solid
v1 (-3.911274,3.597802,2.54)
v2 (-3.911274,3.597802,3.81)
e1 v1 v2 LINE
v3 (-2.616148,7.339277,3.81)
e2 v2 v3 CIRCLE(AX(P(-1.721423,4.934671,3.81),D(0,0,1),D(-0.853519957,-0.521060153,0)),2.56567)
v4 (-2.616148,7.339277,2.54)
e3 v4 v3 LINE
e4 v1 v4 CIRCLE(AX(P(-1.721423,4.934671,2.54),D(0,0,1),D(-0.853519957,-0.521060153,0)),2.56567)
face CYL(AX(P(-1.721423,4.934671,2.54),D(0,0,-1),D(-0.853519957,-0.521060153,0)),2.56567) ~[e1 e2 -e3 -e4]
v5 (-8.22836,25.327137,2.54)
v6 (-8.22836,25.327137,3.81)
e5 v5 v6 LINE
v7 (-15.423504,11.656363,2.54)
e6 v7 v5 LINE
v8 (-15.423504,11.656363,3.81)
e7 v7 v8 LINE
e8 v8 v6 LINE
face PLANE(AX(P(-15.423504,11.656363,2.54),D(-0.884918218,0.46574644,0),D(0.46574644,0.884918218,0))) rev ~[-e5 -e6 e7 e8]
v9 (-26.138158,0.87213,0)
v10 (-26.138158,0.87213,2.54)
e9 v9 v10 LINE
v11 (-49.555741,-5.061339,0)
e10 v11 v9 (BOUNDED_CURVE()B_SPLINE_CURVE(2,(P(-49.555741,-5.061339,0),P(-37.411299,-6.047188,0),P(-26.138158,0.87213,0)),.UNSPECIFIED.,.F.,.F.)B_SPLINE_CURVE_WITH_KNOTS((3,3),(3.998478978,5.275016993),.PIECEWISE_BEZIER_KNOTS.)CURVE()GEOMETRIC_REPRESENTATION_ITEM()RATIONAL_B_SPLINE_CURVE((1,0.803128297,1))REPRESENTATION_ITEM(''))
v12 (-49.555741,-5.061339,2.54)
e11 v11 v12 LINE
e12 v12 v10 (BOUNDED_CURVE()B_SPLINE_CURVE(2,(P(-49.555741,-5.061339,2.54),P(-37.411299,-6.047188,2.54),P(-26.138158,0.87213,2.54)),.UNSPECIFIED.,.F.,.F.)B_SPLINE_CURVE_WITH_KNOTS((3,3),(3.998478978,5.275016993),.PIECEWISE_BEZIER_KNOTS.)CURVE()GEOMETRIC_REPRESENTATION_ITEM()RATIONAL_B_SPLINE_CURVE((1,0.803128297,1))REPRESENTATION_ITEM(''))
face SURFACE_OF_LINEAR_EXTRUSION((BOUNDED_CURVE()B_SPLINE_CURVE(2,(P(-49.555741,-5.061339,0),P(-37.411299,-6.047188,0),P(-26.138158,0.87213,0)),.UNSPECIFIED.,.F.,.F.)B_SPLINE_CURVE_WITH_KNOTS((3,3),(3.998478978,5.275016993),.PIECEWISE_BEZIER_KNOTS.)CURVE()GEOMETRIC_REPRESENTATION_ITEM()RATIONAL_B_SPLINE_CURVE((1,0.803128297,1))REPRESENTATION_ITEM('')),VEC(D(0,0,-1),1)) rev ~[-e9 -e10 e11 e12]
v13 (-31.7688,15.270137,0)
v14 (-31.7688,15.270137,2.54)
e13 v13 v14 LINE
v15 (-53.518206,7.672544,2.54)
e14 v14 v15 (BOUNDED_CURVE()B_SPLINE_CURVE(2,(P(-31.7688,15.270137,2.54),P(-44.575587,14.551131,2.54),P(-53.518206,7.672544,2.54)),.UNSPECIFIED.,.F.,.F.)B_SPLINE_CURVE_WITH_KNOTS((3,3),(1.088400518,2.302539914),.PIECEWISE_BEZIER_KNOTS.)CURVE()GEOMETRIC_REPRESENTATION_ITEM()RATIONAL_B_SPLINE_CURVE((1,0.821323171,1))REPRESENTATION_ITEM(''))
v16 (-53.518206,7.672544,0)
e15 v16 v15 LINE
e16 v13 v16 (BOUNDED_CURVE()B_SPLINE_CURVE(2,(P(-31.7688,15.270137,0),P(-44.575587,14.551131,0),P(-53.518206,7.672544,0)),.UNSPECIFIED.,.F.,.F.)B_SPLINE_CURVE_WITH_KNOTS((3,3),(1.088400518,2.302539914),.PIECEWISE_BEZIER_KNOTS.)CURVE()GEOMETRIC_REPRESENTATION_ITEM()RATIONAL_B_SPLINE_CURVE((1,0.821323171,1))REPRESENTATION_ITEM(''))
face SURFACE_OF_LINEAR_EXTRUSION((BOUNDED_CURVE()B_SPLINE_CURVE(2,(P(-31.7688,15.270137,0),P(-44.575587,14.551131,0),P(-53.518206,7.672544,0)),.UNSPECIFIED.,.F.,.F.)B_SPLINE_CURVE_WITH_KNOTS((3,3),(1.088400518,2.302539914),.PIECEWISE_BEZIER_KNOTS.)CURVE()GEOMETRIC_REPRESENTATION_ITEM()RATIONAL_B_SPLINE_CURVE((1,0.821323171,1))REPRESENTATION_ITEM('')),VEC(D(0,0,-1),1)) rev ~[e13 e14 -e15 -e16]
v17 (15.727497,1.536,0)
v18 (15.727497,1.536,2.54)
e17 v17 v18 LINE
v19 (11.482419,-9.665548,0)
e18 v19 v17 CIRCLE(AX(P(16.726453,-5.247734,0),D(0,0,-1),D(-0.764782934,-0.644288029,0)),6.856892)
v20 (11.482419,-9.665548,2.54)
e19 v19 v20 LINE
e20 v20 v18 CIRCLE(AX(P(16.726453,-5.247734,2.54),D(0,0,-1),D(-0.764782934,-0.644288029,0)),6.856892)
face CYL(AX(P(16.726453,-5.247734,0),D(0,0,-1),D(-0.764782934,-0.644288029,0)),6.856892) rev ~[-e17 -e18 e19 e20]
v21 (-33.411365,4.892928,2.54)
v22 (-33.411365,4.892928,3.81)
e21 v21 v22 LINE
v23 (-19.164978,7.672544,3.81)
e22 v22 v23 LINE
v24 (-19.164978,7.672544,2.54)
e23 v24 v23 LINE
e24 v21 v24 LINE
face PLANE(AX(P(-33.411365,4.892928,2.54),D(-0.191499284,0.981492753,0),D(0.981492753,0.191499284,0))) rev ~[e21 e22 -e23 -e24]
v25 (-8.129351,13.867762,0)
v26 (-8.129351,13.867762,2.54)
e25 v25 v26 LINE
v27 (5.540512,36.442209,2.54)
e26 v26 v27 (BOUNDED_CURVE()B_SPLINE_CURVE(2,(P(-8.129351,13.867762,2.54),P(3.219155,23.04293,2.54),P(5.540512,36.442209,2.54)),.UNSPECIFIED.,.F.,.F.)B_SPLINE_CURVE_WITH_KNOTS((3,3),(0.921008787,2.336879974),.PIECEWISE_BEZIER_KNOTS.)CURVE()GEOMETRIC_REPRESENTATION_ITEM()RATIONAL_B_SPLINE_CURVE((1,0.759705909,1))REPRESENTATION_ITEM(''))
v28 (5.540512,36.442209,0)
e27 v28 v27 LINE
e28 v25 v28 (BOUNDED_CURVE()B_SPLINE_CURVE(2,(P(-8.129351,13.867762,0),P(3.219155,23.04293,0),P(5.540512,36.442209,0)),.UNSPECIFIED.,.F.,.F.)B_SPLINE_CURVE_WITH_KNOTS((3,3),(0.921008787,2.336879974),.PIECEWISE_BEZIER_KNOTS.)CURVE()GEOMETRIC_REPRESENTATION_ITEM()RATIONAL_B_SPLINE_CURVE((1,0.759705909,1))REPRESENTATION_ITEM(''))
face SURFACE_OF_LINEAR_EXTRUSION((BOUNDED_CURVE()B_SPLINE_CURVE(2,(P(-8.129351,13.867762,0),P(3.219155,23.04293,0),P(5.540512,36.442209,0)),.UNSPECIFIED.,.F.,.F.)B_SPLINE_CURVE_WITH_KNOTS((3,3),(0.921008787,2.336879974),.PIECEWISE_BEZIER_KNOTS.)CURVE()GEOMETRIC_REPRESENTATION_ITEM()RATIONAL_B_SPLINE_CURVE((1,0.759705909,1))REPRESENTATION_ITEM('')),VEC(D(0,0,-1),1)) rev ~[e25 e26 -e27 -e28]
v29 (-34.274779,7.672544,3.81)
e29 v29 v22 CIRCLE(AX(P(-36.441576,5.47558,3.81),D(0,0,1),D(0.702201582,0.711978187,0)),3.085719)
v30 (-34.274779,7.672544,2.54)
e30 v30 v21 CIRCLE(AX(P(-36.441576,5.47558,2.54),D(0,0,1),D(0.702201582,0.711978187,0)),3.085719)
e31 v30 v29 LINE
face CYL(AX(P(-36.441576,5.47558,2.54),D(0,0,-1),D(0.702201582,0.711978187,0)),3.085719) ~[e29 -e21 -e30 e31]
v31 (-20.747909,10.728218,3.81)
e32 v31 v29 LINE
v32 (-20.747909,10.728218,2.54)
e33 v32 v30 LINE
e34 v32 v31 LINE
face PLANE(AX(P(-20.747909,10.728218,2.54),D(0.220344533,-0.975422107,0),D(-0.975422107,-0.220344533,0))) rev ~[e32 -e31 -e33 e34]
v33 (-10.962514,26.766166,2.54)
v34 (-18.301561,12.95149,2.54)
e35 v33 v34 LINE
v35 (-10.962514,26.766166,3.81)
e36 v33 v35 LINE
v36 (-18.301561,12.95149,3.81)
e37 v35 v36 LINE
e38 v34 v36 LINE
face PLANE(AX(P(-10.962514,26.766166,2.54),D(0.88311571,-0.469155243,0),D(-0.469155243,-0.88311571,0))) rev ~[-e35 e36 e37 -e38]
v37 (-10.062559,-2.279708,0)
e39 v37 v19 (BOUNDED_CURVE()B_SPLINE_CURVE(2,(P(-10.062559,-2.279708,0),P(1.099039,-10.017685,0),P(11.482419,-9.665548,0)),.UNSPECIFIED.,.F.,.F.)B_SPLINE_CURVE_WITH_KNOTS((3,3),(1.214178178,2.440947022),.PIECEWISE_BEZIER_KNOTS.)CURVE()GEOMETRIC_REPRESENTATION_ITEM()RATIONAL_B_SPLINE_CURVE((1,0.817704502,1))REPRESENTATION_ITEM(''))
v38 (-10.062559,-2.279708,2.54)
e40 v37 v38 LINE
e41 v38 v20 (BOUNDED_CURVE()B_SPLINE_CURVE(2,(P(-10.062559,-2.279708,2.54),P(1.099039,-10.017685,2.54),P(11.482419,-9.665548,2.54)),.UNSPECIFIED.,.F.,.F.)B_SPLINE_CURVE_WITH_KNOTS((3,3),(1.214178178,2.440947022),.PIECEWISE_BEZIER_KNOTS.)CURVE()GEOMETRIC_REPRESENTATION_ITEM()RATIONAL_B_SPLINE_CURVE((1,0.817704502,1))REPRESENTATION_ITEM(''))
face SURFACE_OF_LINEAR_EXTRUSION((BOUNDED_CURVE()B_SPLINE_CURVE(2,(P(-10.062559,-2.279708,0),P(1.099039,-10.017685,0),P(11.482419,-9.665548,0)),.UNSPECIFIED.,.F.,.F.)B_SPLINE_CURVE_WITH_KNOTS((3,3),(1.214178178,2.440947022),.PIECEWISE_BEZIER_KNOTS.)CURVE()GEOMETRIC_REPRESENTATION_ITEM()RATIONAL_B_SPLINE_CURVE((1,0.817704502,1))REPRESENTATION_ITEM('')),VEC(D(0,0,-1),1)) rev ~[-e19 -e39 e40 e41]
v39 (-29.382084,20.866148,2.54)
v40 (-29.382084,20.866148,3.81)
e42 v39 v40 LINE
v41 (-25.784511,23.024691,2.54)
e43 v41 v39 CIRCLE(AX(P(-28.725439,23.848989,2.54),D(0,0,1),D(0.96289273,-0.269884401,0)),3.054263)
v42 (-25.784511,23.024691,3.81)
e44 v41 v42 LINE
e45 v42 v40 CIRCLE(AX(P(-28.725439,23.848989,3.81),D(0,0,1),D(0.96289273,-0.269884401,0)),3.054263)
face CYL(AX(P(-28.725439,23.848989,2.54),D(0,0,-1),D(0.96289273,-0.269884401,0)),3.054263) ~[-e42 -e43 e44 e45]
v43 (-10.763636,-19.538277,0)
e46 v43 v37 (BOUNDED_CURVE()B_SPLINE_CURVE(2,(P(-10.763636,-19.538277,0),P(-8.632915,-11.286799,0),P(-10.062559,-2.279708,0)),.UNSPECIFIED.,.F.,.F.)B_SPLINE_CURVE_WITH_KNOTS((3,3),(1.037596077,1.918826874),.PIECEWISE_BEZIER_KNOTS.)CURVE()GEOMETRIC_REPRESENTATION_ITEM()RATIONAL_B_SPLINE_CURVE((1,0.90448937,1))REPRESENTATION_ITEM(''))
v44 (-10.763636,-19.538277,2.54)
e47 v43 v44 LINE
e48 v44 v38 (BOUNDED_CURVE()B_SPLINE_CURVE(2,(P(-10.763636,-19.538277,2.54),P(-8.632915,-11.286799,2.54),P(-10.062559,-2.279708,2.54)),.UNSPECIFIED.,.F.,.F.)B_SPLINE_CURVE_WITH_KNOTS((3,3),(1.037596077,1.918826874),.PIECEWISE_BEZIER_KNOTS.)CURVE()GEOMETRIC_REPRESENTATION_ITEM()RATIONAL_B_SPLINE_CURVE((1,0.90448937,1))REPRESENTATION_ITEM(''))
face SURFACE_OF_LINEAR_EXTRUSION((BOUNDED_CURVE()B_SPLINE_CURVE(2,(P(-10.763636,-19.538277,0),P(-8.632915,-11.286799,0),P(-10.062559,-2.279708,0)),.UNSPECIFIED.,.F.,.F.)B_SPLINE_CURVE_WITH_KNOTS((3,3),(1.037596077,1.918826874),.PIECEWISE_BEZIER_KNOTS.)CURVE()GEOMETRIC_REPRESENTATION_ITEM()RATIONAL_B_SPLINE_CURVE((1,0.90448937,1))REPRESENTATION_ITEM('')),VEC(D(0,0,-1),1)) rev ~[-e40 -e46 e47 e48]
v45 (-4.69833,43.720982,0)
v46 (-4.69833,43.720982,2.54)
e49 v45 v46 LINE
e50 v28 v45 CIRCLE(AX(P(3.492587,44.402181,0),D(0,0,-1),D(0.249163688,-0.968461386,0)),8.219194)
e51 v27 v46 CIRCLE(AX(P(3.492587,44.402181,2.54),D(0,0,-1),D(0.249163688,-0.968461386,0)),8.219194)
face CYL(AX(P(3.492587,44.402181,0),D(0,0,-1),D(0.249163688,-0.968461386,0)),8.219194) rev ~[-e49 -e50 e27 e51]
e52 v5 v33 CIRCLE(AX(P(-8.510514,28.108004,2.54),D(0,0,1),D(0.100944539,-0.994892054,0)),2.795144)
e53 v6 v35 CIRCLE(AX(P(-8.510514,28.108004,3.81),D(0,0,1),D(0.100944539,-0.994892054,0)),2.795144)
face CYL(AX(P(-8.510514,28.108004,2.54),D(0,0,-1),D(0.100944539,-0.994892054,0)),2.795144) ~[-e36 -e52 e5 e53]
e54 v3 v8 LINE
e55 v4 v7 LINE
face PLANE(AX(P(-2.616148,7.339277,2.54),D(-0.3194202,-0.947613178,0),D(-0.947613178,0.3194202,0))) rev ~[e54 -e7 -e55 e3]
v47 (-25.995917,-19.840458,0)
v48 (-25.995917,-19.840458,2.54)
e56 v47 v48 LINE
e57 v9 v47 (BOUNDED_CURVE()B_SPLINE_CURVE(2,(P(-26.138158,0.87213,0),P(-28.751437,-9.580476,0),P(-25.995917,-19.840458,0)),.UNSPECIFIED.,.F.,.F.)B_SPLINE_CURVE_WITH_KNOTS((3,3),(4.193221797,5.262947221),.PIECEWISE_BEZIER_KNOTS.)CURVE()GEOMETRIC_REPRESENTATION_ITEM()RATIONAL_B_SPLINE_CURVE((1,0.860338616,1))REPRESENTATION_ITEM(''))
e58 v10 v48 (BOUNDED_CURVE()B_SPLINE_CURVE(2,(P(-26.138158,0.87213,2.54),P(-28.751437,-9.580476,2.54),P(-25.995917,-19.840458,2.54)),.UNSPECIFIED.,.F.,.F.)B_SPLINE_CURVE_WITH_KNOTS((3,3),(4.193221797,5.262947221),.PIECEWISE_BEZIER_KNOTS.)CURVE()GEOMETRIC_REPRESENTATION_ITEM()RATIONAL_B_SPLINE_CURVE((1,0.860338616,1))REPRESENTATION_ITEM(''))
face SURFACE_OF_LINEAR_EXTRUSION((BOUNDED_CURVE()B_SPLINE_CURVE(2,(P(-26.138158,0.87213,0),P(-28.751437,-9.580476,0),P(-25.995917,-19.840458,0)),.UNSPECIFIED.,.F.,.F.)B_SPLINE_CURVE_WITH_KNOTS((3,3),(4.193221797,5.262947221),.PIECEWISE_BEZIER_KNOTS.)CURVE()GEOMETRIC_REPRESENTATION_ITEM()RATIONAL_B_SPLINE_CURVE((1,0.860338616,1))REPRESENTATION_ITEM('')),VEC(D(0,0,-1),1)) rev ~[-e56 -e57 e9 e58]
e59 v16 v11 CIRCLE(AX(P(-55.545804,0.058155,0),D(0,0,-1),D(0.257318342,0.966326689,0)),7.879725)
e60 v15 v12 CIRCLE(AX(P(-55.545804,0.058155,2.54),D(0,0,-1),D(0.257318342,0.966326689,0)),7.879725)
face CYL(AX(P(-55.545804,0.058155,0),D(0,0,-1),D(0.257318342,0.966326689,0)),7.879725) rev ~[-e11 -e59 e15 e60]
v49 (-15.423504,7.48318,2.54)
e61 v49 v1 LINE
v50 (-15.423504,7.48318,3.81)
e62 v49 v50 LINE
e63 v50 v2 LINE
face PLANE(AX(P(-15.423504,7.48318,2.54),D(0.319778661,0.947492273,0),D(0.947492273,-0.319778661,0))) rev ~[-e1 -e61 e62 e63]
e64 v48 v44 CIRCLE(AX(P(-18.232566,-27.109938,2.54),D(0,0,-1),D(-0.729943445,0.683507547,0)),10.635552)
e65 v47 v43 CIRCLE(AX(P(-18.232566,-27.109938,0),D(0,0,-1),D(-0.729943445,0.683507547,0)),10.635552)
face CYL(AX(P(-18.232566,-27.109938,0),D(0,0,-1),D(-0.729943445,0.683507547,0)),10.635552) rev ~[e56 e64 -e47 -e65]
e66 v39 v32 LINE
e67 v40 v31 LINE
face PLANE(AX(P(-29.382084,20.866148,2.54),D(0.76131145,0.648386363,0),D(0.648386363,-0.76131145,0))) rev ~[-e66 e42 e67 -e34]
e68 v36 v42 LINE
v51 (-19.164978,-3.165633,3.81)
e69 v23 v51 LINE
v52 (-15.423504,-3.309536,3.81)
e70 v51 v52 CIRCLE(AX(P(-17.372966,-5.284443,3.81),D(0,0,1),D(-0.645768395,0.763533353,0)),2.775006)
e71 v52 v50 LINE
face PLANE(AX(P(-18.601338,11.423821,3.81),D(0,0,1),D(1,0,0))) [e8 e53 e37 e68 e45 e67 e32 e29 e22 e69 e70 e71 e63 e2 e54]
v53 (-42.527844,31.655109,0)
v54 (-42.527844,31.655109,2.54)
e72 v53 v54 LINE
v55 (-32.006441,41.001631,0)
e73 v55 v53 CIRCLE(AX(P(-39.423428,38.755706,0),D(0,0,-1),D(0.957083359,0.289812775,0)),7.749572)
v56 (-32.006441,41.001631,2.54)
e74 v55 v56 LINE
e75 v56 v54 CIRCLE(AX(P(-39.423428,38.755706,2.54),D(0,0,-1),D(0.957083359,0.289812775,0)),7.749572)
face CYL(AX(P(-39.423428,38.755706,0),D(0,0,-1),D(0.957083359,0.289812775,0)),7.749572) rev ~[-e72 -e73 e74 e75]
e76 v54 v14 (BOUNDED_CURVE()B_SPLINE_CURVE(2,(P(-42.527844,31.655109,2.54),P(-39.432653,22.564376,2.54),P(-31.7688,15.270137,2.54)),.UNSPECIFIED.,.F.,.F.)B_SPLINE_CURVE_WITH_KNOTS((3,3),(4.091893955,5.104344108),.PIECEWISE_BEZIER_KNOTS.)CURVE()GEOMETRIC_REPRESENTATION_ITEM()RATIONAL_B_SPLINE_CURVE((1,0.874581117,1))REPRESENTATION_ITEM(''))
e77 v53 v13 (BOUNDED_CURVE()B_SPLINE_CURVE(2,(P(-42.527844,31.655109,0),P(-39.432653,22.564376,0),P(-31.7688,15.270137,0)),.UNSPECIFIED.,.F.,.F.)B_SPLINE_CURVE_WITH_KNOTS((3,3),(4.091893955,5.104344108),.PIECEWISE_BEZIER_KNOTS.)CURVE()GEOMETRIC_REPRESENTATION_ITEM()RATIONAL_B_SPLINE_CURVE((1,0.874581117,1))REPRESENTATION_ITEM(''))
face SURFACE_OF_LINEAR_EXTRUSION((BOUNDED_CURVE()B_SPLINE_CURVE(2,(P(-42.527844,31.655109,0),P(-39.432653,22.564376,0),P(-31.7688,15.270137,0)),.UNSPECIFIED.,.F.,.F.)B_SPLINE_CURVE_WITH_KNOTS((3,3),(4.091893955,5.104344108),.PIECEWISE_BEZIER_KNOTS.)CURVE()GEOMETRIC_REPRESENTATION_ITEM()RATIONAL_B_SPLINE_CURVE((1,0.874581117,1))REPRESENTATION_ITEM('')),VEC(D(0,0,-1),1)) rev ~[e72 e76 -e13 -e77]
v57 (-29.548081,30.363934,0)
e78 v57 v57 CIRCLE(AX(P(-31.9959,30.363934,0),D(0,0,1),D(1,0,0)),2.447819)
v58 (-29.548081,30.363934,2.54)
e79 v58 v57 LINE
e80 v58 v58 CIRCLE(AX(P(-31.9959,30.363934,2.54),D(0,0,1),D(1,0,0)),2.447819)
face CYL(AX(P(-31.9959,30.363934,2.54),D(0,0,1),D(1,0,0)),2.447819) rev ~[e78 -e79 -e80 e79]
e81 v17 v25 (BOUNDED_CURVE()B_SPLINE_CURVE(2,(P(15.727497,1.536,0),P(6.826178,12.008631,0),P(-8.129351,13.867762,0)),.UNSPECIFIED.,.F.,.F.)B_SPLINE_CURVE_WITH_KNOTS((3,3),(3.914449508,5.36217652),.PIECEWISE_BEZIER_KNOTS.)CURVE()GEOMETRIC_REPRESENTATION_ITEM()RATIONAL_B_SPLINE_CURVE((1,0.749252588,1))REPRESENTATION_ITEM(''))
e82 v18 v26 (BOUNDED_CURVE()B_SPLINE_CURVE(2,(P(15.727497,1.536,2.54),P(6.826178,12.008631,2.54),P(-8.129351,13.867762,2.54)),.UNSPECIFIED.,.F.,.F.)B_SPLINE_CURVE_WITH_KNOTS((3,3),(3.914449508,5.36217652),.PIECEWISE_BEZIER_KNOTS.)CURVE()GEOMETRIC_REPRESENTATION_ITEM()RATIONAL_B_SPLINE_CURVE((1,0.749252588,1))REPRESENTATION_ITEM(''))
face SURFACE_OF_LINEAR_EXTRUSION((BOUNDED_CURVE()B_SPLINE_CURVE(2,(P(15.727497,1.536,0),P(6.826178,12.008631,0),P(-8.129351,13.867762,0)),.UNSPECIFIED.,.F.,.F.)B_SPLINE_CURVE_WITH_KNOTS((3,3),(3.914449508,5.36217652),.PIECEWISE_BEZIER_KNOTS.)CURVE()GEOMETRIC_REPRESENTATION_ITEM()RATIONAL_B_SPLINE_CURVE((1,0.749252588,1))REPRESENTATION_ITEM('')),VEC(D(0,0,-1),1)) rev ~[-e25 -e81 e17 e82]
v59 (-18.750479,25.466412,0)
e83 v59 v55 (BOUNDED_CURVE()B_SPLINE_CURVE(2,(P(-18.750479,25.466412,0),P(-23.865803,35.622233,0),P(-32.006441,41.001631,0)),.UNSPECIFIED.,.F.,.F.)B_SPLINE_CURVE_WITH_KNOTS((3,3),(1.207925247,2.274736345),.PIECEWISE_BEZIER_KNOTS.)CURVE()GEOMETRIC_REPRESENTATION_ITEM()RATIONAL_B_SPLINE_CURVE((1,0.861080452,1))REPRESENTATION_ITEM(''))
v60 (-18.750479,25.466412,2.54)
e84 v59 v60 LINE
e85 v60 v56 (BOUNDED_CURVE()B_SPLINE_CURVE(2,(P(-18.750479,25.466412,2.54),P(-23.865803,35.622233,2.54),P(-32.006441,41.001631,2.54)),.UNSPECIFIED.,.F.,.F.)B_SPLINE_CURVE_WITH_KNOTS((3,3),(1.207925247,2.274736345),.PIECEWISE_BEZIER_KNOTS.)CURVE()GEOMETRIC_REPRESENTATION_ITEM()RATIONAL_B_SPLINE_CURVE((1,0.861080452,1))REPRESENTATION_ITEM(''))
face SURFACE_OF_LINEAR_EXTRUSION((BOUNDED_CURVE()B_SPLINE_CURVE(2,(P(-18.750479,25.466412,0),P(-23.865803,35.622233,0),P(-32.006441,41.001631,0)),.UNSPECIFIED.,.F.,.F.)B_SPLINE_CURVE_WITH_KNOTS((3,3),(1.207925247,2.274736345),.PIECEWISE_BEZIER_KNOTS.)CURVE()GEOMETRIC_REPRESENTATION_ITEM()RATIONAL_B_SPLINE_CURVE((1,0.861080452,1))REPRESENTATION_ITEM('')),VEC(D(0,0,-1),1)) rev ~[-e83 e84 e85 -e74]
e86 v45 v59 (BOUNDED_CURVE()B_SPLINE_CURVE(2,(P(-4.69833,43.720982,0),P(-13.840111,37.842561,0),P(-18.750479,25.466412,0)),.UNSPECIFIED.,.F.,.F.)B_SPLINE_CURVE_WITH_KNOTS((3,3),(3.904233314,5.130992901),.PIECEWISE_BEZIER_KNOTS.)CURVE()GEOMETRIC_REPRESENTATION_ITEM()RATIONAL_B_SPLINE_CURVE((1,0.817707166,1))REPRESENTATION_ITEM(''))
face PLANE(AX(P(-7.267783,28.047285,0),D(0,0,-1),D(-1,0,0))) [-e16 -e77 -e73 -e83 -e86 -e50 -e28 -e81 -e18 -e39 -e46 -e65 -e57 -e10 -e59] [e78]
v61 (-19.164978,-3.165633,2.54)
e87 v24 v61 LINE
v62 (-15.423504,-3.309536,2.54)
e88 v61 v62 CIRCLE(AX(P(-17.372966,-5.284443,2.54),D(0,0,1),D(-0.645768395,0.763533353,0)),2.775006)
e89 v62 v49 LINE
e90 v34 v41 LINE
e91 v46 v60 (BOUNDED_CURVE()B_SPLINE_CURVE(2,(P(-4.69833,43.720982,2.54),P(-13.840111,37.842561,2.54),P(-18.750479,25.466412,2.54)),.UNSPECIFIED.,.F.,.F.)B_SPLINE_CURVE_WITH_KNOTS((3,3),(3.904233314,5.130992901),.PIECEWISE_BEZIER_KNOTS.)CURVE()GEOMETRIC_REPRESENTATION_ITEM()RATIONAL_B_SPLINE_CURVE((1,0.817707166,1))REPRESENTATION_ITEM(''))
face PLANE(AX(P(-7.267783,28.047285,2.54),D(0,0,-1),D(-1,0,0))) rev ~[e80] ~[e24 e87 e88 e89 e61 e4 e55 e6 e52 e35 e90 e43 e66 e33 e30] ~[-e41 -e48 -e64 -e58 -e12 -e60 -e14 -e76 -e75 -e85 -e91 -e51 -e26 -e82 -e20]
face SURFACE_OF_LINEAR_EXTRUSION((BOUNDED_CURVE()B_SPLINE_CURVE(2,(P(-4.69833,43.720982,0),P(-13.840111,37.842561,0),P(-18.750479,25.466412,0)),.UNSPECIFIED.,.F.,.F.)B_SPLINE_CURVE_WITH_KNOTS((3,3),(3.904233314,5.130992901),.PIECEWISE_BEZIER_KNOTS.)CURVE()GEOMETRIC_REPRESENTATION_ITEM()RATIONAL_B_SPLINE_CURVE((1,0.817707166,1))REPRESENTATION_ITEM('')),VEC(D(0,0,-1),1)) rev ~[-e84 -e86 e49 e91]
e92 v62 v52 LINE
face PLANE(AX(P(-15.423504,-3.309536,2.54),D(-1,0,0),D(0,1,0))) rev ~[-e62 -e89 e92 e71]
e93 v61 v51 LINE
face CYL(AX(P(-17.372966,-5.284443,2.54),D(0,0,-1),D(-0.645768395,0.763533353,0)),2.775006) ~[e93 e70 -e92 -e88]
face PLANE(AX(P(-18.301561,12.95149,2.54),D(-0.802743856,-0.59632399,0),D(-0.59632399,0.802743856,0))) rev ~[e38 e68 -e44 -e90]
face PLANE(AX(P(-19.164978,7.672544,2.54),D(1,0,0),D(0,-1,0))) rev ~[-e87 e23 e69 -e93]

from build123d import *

# Parameters (mm, degrees)
F1_DEPTH = 2.54
F2_R     = 2.4478188867
F3_DEPTH = 25.4
F5_DEPTH = 1.27


with BuildPart() as f1:
    # F0 (on Top) → F1 (new body)
    with BuildSketch(Plane.XY):
        with BuildLine():
            add(Edge.make_bspline(
                [(-8.1293506725, 13.8677618036), (-13.0062829494, 14.4740161408), (-15.8992987585, 13.1955885586)],
                knots=[5.3621765201, 5.3621765201, 5.3621765201, 5.923451431, 5.923451431, 5.923451431], degree=2, weights=[1, 0.9608790786, 1]))
            add(Edge.make_bspline(
                [(-8.1293506725, 13.8677618036), (3.2191549473, 23.0429297149), (5.5405121801, 36.4422092533)],
                knots=[0.9210087871, 0.9210087871, 0.9210087871, 2.3368799745, 2.3368799745, 2.3368799745], degree=2, weights=[1, 0.7597059088, 1]))
            ThreePointArc((5.5405121801, 36.4422092533), (-1.2696831758, 37.7032314), (-4.698329526, 43.7209819636))
            add(Edge.make_bspline(
                [(-4.698329526, 43.7209819636), (-13.840110732, 37.842561491), (-18.7504788391, 25.4664124261)],
                knots=[3.9042333143, 3.9042333143, 3.9042333143, 5.1309929011, 5.1309929011, 5.1309929011], degree=2, weights=[1, 0.8177071664, 1]))
            add(Edge.make_bspline(
                [(-15.8992987585, 13.1955885586), (-14.9909904148, 18.0024303196), (-18.7504788391, 25.4664124261)],
                knots=[0.3890102653, 0.3890102653, 0.3890102653, 1.2079252474, 1.2079252474, 1.2079252474], degree=2, weights=[1, 0.917336937, 1]))
        make_face()
        with BuildLine():
            add(Edge.make_bspline(
                [(-18.3283618618, 11.1091458655), (-18.4977635058, 11.1131186151), (-18.6671083791, 11.1023364909)],
                knots=[3.1313329127, 3.1313329127, 3.1313329127, 3.1694409122, 3.1694409122, 3.1694409122], degree=2, weights=[1, 0.999818478, 1]))
            add(Edge.make_bspline(
                [(-15.8992987585, 13.1955885586), (-17.6072200733, 12.4408558295), (-18.3283618618, 11.1091458655)],
                knots=[5.923451431, 5.923451431, 5.923451431, 6.2605585753, 6.2605585753, 6.2605585753], degree=2, weights=[1, 0.9858284459, 1]))
            add(Edge.make_bspline(
                [(-15.8992987585, 13.1955885586), (-14.9909904148, 18.0024303196), (-18.7504788391, 25.4664124261)],
                knots=[0.3890102653, 0.3890102653, 0.3890102653, 1.2079252474, 1.2079252474, 1.2079252474], degree=2, weights=[1, 0.917336937, 1]))
            add(Edge.make_bspline(
                [(-18.7504788391, 25.4664124261), (-23.1152645716, 14.4653555432), (-18.6671083791, 11.1023364909)],
                knots=[5.1309929011, 5.1309929011, 5.1309929011, 6.2492635537, 6.2492635537, 6.2492635537], degree=2, weights=[1, 0.847714097, 1]))
        make_face()
        with BuildLine():
            add(Edge.make_bspline(
                [(-18.6671083791, 11.1023364909), (-18.9426872846, 11.084790486), (-19.217261025, 11.0282486857)],
                knots=[3.1694409122, 3.1694409122, 3.1694409122, 3.2314425944, 3.2314425944, 3.2314425944], degree=2, weights=[1, 0.9995195124, 1]))
            add(Edge.make_bspline(
                [(-18.7504788391, 25.4664124261), (-23.1152645716, 14.4653555432), (-18.6671083791, 11.1023364909)],
                knots=[5.1309929011, 5.1309929011, 5.1309929011, 6.2492635537, 6.2492635537, 6.2492635537], degree=2, weights=[1, 0.847714097, 1]))
            add(Edge.make_bspline(
                [(-18.7504788391, 25.4664124261), (-23.8658033607, 35.622233216), (-32.0064408454, 41.0016310267)],
                knots=[1.2079252474, 1.2079252474, 1.2079252474, 2.2747363454, 2.2747363454, 2.2747363454], degree=2, weights=[1, 0.861080452, 1]))
            ThreePointArc((-32.0064408454, 41.0016310267), (-34.2766878119, 32.9620074398), (-42.5278444814, 31.6551094622))
            add(Edge.make_bspline(
                [(-42.5278444814, 31.6551094622), (-39.4326529231, 22.5643761786), (-31.7688000788, 15.2701366935)],
                knots=[4.0918939552, 4.0918939552, 4.0918939552, 5.1043441076, 5.1043441076, 5.1043441076], degree=2, weights=[1, 0.8745811169, 1]))
            add(Edge.make_bspline(
                [(-19.217261025, 11.0282486857), (-21.0537599835, 15.8717065704), (-31.7688000788, 15.2701366935)],
                knots=[0.0355549151, 0.0355549151, 0.0355549151, 1.0884005179, 1.0884005179, 1.0884005179], degree=2, weights=[1, 0.8646099394, 1]))
        make_face()
        with BuildLine():
            add(Edge.make_bspline(
                [(-49.5557408605, -5.0613393168), (-37.4112986885, -6.0471883825), (-26.1381579613, 0.8721302608)],
                knots=[3.9984789777, 3.9984789777, 3.9984789777, 5.2750169926, 5.2750169926, 5.2750169926], degree=2, weights=[1, 0.8031282966, 1]))
            add(Edge.make_bspline(
                [(-22.0543003481, 9.3342240027), (-24.6998426208, 6.6251102399), (-26.1381579613, 0.8721302608)],
                knots=[3.5627929422, 3.5627929422, 3.5627929422, 4.1932217971, 4.1932217971, 4.1932217971], degree=2, weights=[1, 0.9507299239, 1]))
            add(Edge.make_bspline(
                [(-31.7688000788, 15.2701366935), (-26.5047883189, 10.2599984236), (-22.0543003481, 9.3342240027)],
                knots=[5.1043441076, 5.1043441076, 5.1043441076, 5.8320454274, 5.8320454274, 5.8320454274], degree=2, weights=[1, 0.9345334002, 1]))
            add(Edge.make_bspline(
                [(-31.7688000788, 15.2701366935), (-44.5755870345, 14.5511307743), (-53.518205674, 7.6725440865)],
                knots=[1.0884005179, 1.0884005179, 1.0884005179, 2.3025399143, 2.3025399143, 2.3025399143], degree=2, weights=[1, 0.821323171, 1]))
            ThreePointArc((-53.518205674, 7.6725440865), (-48.0219304325, 2.3993954651), (-49.5557408605, -5.0613393168))
        make_face()
        with BuildLine():
            ThreePointArc((-25.9959172097, -19.8404580769), (-18.4435146916, -16.4764784527), (-10.7636362879, -19.5382770108))
            add(Edge.make_bspline(
                [(-10.7636362879, -19.5382770108), (-8.6329149556, -11.286799204), (-10.0625585352, -2.2797077491)],
                knots=[1.0375960775, 1.0375960775, 1.0375960775, 1.9188268736, 1.9188268736, 1.9188268736], degree=2, weights=[1, 0.9044893696, 1]))
            add(Edge.make_bspline(
                [(-18.8036627166, 9.4223104106), (-19.1581055578, 4.0259429354), (-10.0625585352, -2.2797077491)],
                knots=[0.1725226653, 0.1725226653, 0.1725226653, 1.2141781775, 1.2141781775, 1.2141781775], degree=2, weights=[1, 0.8674075869, 1]))
            add(Edge.make_bspline(
                [(-18.968622651, 9.3695263971), (-18.8851978683, 9.3944363277), (-18.8036627166, 9.4223104106)],
                knots=[6.1291457004, 6.1291457004, 6.1291457004, 6.1478253328, 6.1478253328, 6.1478253328], degree=2, weights=[1, 0.9999563842, 1]))
            add(Edge.make_bspline(
                [(-26.1381579613, 0.8721302608), (-19.2047000054, 5.1278036404), (-18.968622651, 9.3695263971)],
                knots=[5.2750169926, 5.2750169926, 5.2750169926, 6.13113397, 6.13113397, 6.13113397], degree=2, weights=[1, 0.9097733954, 1]))
            add(Edge.make_bspline(
                [(-26.1381579613, 0.8721302608), (-28.7514373337, -9.580475983), (-25.9959172097, -19.8404580769)],
                knots=[4.1932217971, 4.1932217971, 4.1932217971, 5.2629472206, 5.2629472206, 5.2629472206], degree=2, weights=[1, 0.8603386164, 1]))
        make_face()
        with BuildLine():
            add(Edge.make_bspline(
                [(-10.0625585352, -2.2797077491), (-11.591893318, 7.3554617789), (-15.8909007735, 10.2708762745)],
                knots=[1.9188268736, 1.9188268736, 1.9188268736, 2.853170758, 2.853170758, 2.853170758], degree=2, weights=[1, 0.8928455097, 1]))
            add(Edge.make_bspline(
                [(-10.0625585352, -2.2797077491), (1.0990392267, -10.0176850683), (11.4824191077, -9.6655475308)],
                knots=[1.2141781775, 1.2141781775, 1.2141781775, 2.440947022, 2.440947022, 2.440947022], degree=2, weights=[1, 0.8177045019, 1]))
            ThreePointArc((11.4824191077, -9.6655475308), (10.3145579677, -2.8178027009), (15.7274971882, 1.5359999924))
            add(Edge.make_bspline(
                [(15.7274971882, 1.5359999924), (6.8261776479, 12.0086312281), (-8.1293506725, 13.8677618036)],
                knots=[3.9144495075, 3.9144495075, 3.9144495075, 5.3621765201, 5.3621765201, 5.3621765201], degree=2, weights=[1, 0.7492525877, 1]))
            add(Edge.make_bspline(
                [(-15.8909007735, 10.2708762745), (-12.5066175517, 10.3287796719), (-8.1293506725, 13.8677618036)],
                knots=[0.2832443256, 0.2832443256, 0.2832443256, 0.9210087871, 0.9210087871, 0.9210087871], degree=2, weights=[1, 0.9495864378, 1]))
        make_face()
        with BuildLine():
            add(Edge.make_bspline(
                [(-18.8036627166, 9.4223104106), (-19.1581055578, 4.0259429354), (-10.0625585352, -2.2797077491)],
                knots=[0.1725226653, 0.1725226653, 0.1725226653, 1.2141781775, 1.2141781775, 1.2141781775], degree=2, weights=[1, 0.8674075869, 1]))
            add(Edge.make_bspline(
                [(-10.0625585352, -2.2797077491), (-11.591893318, 7.3554617789), (-15.8909007735, 10.2708762745)],
                knots=[1.9188268736, 1.9188268736, 1.9188268736, 2.853170758, 2.853170758, 2.853170758], degree=2, weights=[1, 0.8928455097, 1]))
            add(Edge.make_bspline(
                [(-17.2241931915, 10.4165103763), (-16.6012589778, 10.2587224001), (-15.8909007735, 10.2708762745)],
                knots=[0.1448694059, 0.1448694059, 0.1448694059, 0.2832443256, 0.2832443256, 0.2832443256], degree=2, weights=[1, 0.9976075023, 1]))
            add(Edge.make_bspline(
                [(-18.8036627166, 9.4223104106), (-17.88406247, 9.7366903191), (-17.2241931915, 10.4165103763)],
                knots=[6.1478253328, 6.1478253328, 6.1478253328, 6.3577368887, 6.3577368887, 6.3577368887], degree=2, weights=[1, 0.9944971966, 1]))
        make_face()
        with BuildLine():
            add(Edge.make_bspline(
                [(-15.8909007735, 10.2708762745), (-16.3835971803, 10.6050032239), (-16.8898563503, 10.8071326543)],
                knots=[2.853170758, 2.853170758, 2.853170758, 2.9686608036, 2.9686608036, 2.9686608036], degree=2, weights=[1, 0.9983332194, 1]))
            add(Edge.make_bspline(
                [(-15.8909007735, 10.2708762745), (-12.5066175517, 10.3287796719), (-8.1293506725, 13.8677618036)],
                knots=[0.2832443256, 0.2832443256, 0.2832443256, 0.9210087871, 0.9210087871, 0.9210087871], degree=2, weights=[1, 0.9495864378, 1]))
            add(Edge.make_bspline(
                [(-8.1293506725, 13.8677618036), (-13.0062829494, 14.4740161408), (-15.8992987585, 13.1955885586)],
                knots=[5.3621765201, 5.3621765201, 5.3621765201, 5.923451431, 5.923451431, 5.923451431], degree=2, weights=[1, 0.9608790786, 1]))
            add(Edge.make_bspline(
                [(-16.8898563503, 10.8071326543), (-16.1706479753, 11.759586395), (-15.8992987585, 13.1955885586)],
                knots=[0.1311493399, 0.1311493399, 0.1311493399, 0.3890102653, 0.3890102653, 0.3890102653], degree=2, weights=[1, 0.9916999751, 1]))
        make_face()
        with BuildLine():
            add(Edge.make_bspline(
                [(-22.0543003481, 9.3342240027), (-24.6998426208, 6.6251102399), (-26.1381579613, 0.8721302608)],
                knots=[3.5627929422, 3.5627929422, 3.5627929422, 4.1932217971, 4.1932217971, 4.1932217971], degree=2, weights=[1, 0.9507299239, 1]))
            add(Edge.make_bspline(
                [(-26.1381579613, 0.8721302608), (-19.2047000054, 5.1278036404), (-18.968622651, 9.3695263971)],
                knots=[5.2750169926, 5.2750169926, 5.2750169926, 6.13113397, 6.13113397, 6.13113397], degree=2, weights=[1, 0.9097733954, 1]))
            add(Edge.make_bspline(
                [(-22.0543003481, 9.3342240027), (-20.3053052052, 8.970404355), (-18.968622651, 9.3695263971)],
                knots=[5.8320454274, 5.8320454274, 5.8320454274, 6.1291457004, 6.1291457004, 6.1291457004], degree=2, weights=[1, 0.9889867035, 1]))
        make_face()
        with BuildLine():
            add(Edge.make_bspline(
                [(-31.7688000788, 15.2701366935), (-26.5047883189, 10.2599984236), (-22.0543003481, 9.3342240027)],
                knots=[5.1043441076, 5.1043441076, 5.1043441076, 5.8320454274, 5.8320454274, 5.8320454274], degree=2, weights=[1, 0.9345334002, 1]))
            add(Edge.make_bspline(
                [(-19.217261025, 11.0282486857), (-20.6977425429, 10.7233794352), (-22.0543003481, 9.3342240027)],
                knots=[3.2314425944, 3.2314425944, 3.2314425944, 3.5627929422, 3.5627929422, 3.5627929422], degree=2, weights=[1, 0.9863072316, 1]))
            add(Edge.make_bspline(
                [(-19.217261025, 11.0282486857), (-21.0537599835, 15.8717065704), (-31.7688000788, 15.2701366935)],
                knots=[0.0355549151, 0.0355549151, 0.0355549151, 1.0884005179, 1.0884005179, 1.0884005179], degree=2, weights=[1, 0.8646099394, 1]))
        make_face()
        with BuildLine():
            add(Edge.make_bspline(
                [(-22.0543003481, 9.3342240027), (-20.3053052052, 8.970404355), (-18.968622651, 9.3695263971)],
                knots=[5.8320454274, 5.8320454274, 5.8320454274, 6.1291457004, 6.1291457004, 6.1291457004], degree=2, weights=[1, 0.9889867035, 1]))
            add(Edge.make_bspline(
                [(-18.968622651, 9.3695263971), (-18.9199457345, 10.2441294891), (-19.217261025, 11.0282486857)],
                knots=[6.13113397, 6.13113397, 6.13113397, 6.3187402223, 6.3187402223, 6.3187402223], degree=2, weights=[1, 0.9956037118, 1]))
            add(Edge.make_bspline(
                [(-19.217261025, 11.0282486857), (-20.6977425429, 10.7233794352), (-22.0543003481, 9.3342240027)],
                knots=[3.2314425944, 3.2314425944, 3.2314425944, 3.5627929422, 3.5627929422, 3.5627929422], degree=2, weights=[1, 0.9863072316, 1]))
        make_face()
        with BuildLine():
            add(Edge.make_bspline(
                [(-16.8898563503, 10.8071326543), (-17.6037237269, 11.0921518989), (-18.3283618618, 11.1091458655)],
                knots=[2.9686608036, 2.9686608036, 2.9686608036, 3.1313329127, 3.1313329127, 3.1313329127], degree=2, weights=[1, 0.9966940463, 1]))
            add(Edge.make_bspline(
                [(-16.8898563503, 10.8071326543), (-16.1706479753, 11.759586395), (-15.8992987585, 13.1955885586)],
                knots=[0.1311493399, 0.1311493399, 0.1311493399, 0.3890102653, 0.3890102653, 0.3890102653], degree=2, weights=[1, 0.9916999751, 1]))
            add(Edge.make_bspline(
                [(-15.8992987585, 13.1955885586), (-17.6072200733, 12.4408558295), (-18.3283618618, 11.1091458655)],
                knots=[5.923451431, 5.923451431, 5.923451431, 6.2605585753, 6.2605585753, 6.2605585753], degree=2, weights=[1, 0.9858284459, 1]))
        make_face()
        with BuildLine():
            add(Edge.make_bspline(
                [(-17.2241931915, 10.4165103763), (-17.0468812663, 10.5991832284), (-16.8898563503, 10.8071326543)],
                knots=[0.0745515815, 0.0745515815, 0.0745515815, 0.1311493399, 0.1311493399, 0.1311493399], degree=2, weights=[1, 0.9995996134, 1]))
            add(Edge.make_bspline(
                [(-16.8898563503, 10.8071326543), (-17.6037237269, 11.0921518989), (-18.3283618618, 11.1091458655)],
                knots=[2.9686608036, 2.9686608036, 2.9686608036, 3.1313329127, 3.1313329127, 3.1313329127], degree=2, weights=[1, 0.9966940463, 1]))
            add(Edge.make_bspline(
                [(-18.3283618618, 11.1091458655), (-18.3763079047, 11.020605409), (-18.4195693582, 10.9298044945)],
                knots=[6.2605585753, 6.2605585753, 6.2605585753, 6.2831853072, 6.2831853072, 6.2831853072], degree=2, weights=[1, 0.9999360046, 1]))
            add(Edge.make_bspline(
                [(-18.4195693582, 10.9298044945), (-17.8764644053, 10.5817293553), (-17.2241931915, 10.4165103763)],
                knots=[0, 0, 0, 0.1448694059, 0.1448694059, 0.1448694059], degree=2, weights=[1, 0.9973777537, 1]))
        make_face()
        with BuildLine():
            add(Edge.make_bspline(
                [(-18.4195693582, 10.9298044945), (-18.750232644, 10.2357795294), (-18.8036627166, 9.4223104106)],
                knots=[0, 0, 0, 0.1725226653, 0.1725226653, 0.1725226653], degree=2, weights=[1, 0.9962817977, 1]))
            add(Edge.make_bspline(
                [(-18.8036627166, 9.4223104106), (-17.88406247, 9.7366903191), (-17.2241931915, 10.4165103763)],
                knots=[6.1478253328, 6.1478253328, 6.1478253328, 6.3577368887, 6.3577368887, 6.3577368887], degree=2, weights=[1, 0.9944971966, 1]))
            add(Edge.make_bspline(
                [(-18.4195693582, 10.9298044945), (-17.8764644053, 10.5817293553), (-17.2241931915, 10.4165103763)],
                knots=[0, 0, 0, 0.1448694059, 0.1448694059, 0.1448694059], degree=2, weights=[1, 0.9973777537, 1]))
        make_face()
        with BuildLine():
            add(Edge.make_bspline(
                [(-18.968622651, 9.3695263971), (-18.8851978683, 9.3944363277), (-18.8036627166, 9.4223104106)],
                knots=[6.1291457004, 6.1291457004, 6.1291457004, 6.1478253328, 6.1478253328, 6.1478253328], degree=2, weights=[1, 0.9999563842, 1]))
            add(Edge.make_bspline(
                [(-18.4195693582, 10.9298044945), (-18.750232644, 10.2357795294), (-18.8036627166, 9.4223104106)],
                knots=[0, 0, 0, 0.1725226653, 0.1725226653, 0.1725226653], degree=2, weights=[1, 0.9962817977, 1]))
            add(Edge.make_bspline(
                [(-18.6671083791, 11.1023364909), (-18.5465292502, 11.0111728964), (-18.4195693582, 10.9298044945)],
                knots=[6.2492635537, 6.2492635537, 6.2492635537, 6.2831853072, 6.2831853072, 6.2831853072], degree=2, weights=[1, 0.9998561678, 1]))
            add(Edge.make_bspline(
                [(-18.6671083791, 11.1023364909), (-18.9426872846, 11.084790486), (-19.217261025, 11.0282486857)],
                knots=[3.1694409122, 3.1694409122, 3.1694409122, 3.2314425944, 3.2314425944, 3.2314425944], degree=2, weights=[1, 0.9995195124, 1]))
            add(Edge.make_bspline(
                [(-18.968622651, 9.3695263971), (-18.9199457345, 10.2441294891), (-19.217261025, 11.0282486857)],
                knots=[6.13113397, 6.13113397, 6.13113397, 6.3187402223, 6.3187402223, 6.3187402223], degree=2, weights=[1, 0.9956037118, 1]))
        make_face()
        with BuildLine():
            add(Edge.make_bspline(
                [(-17.2241931915, 10.4165103763), (-16.6012589778, 10.2587224001), (-15.8909007735, 10.2708762745)],
                knots=[0.1448694059, 0.1448694059, 0.1448694059, 0.2832443256, 0.2832443256, 0.2832443256], degree=2, weights=[1, 0.9976075023, 1]))
            add(Edge.make_bspline(
                [(-15.8909007735, 10.2708762745), (-16.3835971803, 10.6050032239), (-16.8898563503, 10.8071326543)],
                knots=[2.853170758, 2.853170758, 2.853170758, 2.9686608036, 2.9686608036, 2.9686608036], degree=2, weights=[1, 0.9983332194, 1]))
            add(Edge.make_bspline(
                [(-17.2241931915, 10.4165103763), (-17.0468812663, 10.5991832284), (-16.8898563503, 10.8071326543)],
                knots=[0.0745515815, 0.0745515815, 0.0745515815, 0.1311493399, 0.1311493399, 0.1311493399], degree=2, weights=[1, 0.9995996134, 1]))
        make_face()
        with BuildLine():
            add(Edge.make_bspline(
                [(-18.6671083791, 11.1023364909), (-18.5465292502, 11.0111728964), (-18.4195693582, 10.9298044945)],
                knots=[6.2492635537, 6.2492635537, 6.2492635537, 6.2831853072, 6.2831853072, 6.2831853072], degree=2, weights=[1, 0.9998561678, 1]))
            add(Edge.make_bspline(
                [(-18.3283618618, 11.1091458655), (-18.3763079047, 11.020605409), (-18.4195693582, 10.9298044945)],
                knots=[6.2605585753, 6.2605585753, 6.2605585753, 6.2831853072, 6.2831853072, 6.2831853072], degree=2, weights=[1, 0.9999360046, 1]))
            add(Edge.make_bspline(
                [(-18.3283618618, 11.1091458655), (-18.4977635058, 11.1131186151), (-18.6671083791, 11.1023364909)],
                knots=[3.1313329127, 3.1313329127, 3.1313329127, 3.1694409122, 3.1694409122, 3.1694409122], degree=2, weights=[1, 0.999818478, 1]))
        make_face()
    extrude(amount=F1_DEPTH)

    # F2 (on face) → F3 (cut)
    with BuildSketch(Plane.XY.offset(2.54)):
        with Locations((-31.9958999753, 30.3639341146)):
            Circle(F2_R)
    extrude(amount=-F3_DEPTH, mode=Mode.SUBTRACT)

    # F4 (on face) → F5 (join)
    with BuildSketch(Plane.XY.offset(2.54)):
        with BuildLine():
            ThreePointArc((-8.228359744, 25.3271367401), (-7.2086853455, 30.5814773498), (-10.9625142068, 26.766166091))
            Line((-10.9625142068, 26.766166091), (-18.3015614748, 12.951489538))
            Line((-18.3015614748, 12.951489538), (-25.7845111191, 23.0246912688))
            ThreePointArc((-25.7845111191, 23.0246912688), (-30.2968440561, 26.4679983586), (-29.382083565, 20.8661481738))
            Line((-29.382083565, 20.8661481738), (-20.7479093224, 10.7282179445))
            Line((-20.7479093224, 10.7282179445), (-34.2747792602, 7.6725440865))
            ThreePointArc((-34.2747792602, 7.6725440865), (-39.3884028032, 4.5602256543), (-33.4113650024, 4.8929280601))
            Line((-33.4113650024, 4.8929280601), (-19.1649775952, 7.6725440865))
            Line((-19.1649775952, 7.6725440865), (-19.1649775952, -3.165632952))
            ThreePointArc((-19.1649775952, -3.165632952), (-17.4796190049, -8.0573985599), (-15.4235037044, -3.3095364925))
            Line((-15.4235037044, -3.3095364925), (-15.4235037044, 7.4831801467))
            Line((-15.4235037044, 7.4831801467), (-3.911273554, 3.5978022497))
            ThreePointArc((-3.911273554, 3.5978022497), (0.703099628, 4.0954129196), (-2.6161477435, 7.339276839))
            Line((-2.6161477435, 7.339276839), (-15.4235037044, 11.6563634947))
            Line((-15.4235037044, 11.6563634947), (-8.228359744, 25.3271367401))
        make_face()
    extrude(amount=F5_DEPTH)


solid = f1.part
